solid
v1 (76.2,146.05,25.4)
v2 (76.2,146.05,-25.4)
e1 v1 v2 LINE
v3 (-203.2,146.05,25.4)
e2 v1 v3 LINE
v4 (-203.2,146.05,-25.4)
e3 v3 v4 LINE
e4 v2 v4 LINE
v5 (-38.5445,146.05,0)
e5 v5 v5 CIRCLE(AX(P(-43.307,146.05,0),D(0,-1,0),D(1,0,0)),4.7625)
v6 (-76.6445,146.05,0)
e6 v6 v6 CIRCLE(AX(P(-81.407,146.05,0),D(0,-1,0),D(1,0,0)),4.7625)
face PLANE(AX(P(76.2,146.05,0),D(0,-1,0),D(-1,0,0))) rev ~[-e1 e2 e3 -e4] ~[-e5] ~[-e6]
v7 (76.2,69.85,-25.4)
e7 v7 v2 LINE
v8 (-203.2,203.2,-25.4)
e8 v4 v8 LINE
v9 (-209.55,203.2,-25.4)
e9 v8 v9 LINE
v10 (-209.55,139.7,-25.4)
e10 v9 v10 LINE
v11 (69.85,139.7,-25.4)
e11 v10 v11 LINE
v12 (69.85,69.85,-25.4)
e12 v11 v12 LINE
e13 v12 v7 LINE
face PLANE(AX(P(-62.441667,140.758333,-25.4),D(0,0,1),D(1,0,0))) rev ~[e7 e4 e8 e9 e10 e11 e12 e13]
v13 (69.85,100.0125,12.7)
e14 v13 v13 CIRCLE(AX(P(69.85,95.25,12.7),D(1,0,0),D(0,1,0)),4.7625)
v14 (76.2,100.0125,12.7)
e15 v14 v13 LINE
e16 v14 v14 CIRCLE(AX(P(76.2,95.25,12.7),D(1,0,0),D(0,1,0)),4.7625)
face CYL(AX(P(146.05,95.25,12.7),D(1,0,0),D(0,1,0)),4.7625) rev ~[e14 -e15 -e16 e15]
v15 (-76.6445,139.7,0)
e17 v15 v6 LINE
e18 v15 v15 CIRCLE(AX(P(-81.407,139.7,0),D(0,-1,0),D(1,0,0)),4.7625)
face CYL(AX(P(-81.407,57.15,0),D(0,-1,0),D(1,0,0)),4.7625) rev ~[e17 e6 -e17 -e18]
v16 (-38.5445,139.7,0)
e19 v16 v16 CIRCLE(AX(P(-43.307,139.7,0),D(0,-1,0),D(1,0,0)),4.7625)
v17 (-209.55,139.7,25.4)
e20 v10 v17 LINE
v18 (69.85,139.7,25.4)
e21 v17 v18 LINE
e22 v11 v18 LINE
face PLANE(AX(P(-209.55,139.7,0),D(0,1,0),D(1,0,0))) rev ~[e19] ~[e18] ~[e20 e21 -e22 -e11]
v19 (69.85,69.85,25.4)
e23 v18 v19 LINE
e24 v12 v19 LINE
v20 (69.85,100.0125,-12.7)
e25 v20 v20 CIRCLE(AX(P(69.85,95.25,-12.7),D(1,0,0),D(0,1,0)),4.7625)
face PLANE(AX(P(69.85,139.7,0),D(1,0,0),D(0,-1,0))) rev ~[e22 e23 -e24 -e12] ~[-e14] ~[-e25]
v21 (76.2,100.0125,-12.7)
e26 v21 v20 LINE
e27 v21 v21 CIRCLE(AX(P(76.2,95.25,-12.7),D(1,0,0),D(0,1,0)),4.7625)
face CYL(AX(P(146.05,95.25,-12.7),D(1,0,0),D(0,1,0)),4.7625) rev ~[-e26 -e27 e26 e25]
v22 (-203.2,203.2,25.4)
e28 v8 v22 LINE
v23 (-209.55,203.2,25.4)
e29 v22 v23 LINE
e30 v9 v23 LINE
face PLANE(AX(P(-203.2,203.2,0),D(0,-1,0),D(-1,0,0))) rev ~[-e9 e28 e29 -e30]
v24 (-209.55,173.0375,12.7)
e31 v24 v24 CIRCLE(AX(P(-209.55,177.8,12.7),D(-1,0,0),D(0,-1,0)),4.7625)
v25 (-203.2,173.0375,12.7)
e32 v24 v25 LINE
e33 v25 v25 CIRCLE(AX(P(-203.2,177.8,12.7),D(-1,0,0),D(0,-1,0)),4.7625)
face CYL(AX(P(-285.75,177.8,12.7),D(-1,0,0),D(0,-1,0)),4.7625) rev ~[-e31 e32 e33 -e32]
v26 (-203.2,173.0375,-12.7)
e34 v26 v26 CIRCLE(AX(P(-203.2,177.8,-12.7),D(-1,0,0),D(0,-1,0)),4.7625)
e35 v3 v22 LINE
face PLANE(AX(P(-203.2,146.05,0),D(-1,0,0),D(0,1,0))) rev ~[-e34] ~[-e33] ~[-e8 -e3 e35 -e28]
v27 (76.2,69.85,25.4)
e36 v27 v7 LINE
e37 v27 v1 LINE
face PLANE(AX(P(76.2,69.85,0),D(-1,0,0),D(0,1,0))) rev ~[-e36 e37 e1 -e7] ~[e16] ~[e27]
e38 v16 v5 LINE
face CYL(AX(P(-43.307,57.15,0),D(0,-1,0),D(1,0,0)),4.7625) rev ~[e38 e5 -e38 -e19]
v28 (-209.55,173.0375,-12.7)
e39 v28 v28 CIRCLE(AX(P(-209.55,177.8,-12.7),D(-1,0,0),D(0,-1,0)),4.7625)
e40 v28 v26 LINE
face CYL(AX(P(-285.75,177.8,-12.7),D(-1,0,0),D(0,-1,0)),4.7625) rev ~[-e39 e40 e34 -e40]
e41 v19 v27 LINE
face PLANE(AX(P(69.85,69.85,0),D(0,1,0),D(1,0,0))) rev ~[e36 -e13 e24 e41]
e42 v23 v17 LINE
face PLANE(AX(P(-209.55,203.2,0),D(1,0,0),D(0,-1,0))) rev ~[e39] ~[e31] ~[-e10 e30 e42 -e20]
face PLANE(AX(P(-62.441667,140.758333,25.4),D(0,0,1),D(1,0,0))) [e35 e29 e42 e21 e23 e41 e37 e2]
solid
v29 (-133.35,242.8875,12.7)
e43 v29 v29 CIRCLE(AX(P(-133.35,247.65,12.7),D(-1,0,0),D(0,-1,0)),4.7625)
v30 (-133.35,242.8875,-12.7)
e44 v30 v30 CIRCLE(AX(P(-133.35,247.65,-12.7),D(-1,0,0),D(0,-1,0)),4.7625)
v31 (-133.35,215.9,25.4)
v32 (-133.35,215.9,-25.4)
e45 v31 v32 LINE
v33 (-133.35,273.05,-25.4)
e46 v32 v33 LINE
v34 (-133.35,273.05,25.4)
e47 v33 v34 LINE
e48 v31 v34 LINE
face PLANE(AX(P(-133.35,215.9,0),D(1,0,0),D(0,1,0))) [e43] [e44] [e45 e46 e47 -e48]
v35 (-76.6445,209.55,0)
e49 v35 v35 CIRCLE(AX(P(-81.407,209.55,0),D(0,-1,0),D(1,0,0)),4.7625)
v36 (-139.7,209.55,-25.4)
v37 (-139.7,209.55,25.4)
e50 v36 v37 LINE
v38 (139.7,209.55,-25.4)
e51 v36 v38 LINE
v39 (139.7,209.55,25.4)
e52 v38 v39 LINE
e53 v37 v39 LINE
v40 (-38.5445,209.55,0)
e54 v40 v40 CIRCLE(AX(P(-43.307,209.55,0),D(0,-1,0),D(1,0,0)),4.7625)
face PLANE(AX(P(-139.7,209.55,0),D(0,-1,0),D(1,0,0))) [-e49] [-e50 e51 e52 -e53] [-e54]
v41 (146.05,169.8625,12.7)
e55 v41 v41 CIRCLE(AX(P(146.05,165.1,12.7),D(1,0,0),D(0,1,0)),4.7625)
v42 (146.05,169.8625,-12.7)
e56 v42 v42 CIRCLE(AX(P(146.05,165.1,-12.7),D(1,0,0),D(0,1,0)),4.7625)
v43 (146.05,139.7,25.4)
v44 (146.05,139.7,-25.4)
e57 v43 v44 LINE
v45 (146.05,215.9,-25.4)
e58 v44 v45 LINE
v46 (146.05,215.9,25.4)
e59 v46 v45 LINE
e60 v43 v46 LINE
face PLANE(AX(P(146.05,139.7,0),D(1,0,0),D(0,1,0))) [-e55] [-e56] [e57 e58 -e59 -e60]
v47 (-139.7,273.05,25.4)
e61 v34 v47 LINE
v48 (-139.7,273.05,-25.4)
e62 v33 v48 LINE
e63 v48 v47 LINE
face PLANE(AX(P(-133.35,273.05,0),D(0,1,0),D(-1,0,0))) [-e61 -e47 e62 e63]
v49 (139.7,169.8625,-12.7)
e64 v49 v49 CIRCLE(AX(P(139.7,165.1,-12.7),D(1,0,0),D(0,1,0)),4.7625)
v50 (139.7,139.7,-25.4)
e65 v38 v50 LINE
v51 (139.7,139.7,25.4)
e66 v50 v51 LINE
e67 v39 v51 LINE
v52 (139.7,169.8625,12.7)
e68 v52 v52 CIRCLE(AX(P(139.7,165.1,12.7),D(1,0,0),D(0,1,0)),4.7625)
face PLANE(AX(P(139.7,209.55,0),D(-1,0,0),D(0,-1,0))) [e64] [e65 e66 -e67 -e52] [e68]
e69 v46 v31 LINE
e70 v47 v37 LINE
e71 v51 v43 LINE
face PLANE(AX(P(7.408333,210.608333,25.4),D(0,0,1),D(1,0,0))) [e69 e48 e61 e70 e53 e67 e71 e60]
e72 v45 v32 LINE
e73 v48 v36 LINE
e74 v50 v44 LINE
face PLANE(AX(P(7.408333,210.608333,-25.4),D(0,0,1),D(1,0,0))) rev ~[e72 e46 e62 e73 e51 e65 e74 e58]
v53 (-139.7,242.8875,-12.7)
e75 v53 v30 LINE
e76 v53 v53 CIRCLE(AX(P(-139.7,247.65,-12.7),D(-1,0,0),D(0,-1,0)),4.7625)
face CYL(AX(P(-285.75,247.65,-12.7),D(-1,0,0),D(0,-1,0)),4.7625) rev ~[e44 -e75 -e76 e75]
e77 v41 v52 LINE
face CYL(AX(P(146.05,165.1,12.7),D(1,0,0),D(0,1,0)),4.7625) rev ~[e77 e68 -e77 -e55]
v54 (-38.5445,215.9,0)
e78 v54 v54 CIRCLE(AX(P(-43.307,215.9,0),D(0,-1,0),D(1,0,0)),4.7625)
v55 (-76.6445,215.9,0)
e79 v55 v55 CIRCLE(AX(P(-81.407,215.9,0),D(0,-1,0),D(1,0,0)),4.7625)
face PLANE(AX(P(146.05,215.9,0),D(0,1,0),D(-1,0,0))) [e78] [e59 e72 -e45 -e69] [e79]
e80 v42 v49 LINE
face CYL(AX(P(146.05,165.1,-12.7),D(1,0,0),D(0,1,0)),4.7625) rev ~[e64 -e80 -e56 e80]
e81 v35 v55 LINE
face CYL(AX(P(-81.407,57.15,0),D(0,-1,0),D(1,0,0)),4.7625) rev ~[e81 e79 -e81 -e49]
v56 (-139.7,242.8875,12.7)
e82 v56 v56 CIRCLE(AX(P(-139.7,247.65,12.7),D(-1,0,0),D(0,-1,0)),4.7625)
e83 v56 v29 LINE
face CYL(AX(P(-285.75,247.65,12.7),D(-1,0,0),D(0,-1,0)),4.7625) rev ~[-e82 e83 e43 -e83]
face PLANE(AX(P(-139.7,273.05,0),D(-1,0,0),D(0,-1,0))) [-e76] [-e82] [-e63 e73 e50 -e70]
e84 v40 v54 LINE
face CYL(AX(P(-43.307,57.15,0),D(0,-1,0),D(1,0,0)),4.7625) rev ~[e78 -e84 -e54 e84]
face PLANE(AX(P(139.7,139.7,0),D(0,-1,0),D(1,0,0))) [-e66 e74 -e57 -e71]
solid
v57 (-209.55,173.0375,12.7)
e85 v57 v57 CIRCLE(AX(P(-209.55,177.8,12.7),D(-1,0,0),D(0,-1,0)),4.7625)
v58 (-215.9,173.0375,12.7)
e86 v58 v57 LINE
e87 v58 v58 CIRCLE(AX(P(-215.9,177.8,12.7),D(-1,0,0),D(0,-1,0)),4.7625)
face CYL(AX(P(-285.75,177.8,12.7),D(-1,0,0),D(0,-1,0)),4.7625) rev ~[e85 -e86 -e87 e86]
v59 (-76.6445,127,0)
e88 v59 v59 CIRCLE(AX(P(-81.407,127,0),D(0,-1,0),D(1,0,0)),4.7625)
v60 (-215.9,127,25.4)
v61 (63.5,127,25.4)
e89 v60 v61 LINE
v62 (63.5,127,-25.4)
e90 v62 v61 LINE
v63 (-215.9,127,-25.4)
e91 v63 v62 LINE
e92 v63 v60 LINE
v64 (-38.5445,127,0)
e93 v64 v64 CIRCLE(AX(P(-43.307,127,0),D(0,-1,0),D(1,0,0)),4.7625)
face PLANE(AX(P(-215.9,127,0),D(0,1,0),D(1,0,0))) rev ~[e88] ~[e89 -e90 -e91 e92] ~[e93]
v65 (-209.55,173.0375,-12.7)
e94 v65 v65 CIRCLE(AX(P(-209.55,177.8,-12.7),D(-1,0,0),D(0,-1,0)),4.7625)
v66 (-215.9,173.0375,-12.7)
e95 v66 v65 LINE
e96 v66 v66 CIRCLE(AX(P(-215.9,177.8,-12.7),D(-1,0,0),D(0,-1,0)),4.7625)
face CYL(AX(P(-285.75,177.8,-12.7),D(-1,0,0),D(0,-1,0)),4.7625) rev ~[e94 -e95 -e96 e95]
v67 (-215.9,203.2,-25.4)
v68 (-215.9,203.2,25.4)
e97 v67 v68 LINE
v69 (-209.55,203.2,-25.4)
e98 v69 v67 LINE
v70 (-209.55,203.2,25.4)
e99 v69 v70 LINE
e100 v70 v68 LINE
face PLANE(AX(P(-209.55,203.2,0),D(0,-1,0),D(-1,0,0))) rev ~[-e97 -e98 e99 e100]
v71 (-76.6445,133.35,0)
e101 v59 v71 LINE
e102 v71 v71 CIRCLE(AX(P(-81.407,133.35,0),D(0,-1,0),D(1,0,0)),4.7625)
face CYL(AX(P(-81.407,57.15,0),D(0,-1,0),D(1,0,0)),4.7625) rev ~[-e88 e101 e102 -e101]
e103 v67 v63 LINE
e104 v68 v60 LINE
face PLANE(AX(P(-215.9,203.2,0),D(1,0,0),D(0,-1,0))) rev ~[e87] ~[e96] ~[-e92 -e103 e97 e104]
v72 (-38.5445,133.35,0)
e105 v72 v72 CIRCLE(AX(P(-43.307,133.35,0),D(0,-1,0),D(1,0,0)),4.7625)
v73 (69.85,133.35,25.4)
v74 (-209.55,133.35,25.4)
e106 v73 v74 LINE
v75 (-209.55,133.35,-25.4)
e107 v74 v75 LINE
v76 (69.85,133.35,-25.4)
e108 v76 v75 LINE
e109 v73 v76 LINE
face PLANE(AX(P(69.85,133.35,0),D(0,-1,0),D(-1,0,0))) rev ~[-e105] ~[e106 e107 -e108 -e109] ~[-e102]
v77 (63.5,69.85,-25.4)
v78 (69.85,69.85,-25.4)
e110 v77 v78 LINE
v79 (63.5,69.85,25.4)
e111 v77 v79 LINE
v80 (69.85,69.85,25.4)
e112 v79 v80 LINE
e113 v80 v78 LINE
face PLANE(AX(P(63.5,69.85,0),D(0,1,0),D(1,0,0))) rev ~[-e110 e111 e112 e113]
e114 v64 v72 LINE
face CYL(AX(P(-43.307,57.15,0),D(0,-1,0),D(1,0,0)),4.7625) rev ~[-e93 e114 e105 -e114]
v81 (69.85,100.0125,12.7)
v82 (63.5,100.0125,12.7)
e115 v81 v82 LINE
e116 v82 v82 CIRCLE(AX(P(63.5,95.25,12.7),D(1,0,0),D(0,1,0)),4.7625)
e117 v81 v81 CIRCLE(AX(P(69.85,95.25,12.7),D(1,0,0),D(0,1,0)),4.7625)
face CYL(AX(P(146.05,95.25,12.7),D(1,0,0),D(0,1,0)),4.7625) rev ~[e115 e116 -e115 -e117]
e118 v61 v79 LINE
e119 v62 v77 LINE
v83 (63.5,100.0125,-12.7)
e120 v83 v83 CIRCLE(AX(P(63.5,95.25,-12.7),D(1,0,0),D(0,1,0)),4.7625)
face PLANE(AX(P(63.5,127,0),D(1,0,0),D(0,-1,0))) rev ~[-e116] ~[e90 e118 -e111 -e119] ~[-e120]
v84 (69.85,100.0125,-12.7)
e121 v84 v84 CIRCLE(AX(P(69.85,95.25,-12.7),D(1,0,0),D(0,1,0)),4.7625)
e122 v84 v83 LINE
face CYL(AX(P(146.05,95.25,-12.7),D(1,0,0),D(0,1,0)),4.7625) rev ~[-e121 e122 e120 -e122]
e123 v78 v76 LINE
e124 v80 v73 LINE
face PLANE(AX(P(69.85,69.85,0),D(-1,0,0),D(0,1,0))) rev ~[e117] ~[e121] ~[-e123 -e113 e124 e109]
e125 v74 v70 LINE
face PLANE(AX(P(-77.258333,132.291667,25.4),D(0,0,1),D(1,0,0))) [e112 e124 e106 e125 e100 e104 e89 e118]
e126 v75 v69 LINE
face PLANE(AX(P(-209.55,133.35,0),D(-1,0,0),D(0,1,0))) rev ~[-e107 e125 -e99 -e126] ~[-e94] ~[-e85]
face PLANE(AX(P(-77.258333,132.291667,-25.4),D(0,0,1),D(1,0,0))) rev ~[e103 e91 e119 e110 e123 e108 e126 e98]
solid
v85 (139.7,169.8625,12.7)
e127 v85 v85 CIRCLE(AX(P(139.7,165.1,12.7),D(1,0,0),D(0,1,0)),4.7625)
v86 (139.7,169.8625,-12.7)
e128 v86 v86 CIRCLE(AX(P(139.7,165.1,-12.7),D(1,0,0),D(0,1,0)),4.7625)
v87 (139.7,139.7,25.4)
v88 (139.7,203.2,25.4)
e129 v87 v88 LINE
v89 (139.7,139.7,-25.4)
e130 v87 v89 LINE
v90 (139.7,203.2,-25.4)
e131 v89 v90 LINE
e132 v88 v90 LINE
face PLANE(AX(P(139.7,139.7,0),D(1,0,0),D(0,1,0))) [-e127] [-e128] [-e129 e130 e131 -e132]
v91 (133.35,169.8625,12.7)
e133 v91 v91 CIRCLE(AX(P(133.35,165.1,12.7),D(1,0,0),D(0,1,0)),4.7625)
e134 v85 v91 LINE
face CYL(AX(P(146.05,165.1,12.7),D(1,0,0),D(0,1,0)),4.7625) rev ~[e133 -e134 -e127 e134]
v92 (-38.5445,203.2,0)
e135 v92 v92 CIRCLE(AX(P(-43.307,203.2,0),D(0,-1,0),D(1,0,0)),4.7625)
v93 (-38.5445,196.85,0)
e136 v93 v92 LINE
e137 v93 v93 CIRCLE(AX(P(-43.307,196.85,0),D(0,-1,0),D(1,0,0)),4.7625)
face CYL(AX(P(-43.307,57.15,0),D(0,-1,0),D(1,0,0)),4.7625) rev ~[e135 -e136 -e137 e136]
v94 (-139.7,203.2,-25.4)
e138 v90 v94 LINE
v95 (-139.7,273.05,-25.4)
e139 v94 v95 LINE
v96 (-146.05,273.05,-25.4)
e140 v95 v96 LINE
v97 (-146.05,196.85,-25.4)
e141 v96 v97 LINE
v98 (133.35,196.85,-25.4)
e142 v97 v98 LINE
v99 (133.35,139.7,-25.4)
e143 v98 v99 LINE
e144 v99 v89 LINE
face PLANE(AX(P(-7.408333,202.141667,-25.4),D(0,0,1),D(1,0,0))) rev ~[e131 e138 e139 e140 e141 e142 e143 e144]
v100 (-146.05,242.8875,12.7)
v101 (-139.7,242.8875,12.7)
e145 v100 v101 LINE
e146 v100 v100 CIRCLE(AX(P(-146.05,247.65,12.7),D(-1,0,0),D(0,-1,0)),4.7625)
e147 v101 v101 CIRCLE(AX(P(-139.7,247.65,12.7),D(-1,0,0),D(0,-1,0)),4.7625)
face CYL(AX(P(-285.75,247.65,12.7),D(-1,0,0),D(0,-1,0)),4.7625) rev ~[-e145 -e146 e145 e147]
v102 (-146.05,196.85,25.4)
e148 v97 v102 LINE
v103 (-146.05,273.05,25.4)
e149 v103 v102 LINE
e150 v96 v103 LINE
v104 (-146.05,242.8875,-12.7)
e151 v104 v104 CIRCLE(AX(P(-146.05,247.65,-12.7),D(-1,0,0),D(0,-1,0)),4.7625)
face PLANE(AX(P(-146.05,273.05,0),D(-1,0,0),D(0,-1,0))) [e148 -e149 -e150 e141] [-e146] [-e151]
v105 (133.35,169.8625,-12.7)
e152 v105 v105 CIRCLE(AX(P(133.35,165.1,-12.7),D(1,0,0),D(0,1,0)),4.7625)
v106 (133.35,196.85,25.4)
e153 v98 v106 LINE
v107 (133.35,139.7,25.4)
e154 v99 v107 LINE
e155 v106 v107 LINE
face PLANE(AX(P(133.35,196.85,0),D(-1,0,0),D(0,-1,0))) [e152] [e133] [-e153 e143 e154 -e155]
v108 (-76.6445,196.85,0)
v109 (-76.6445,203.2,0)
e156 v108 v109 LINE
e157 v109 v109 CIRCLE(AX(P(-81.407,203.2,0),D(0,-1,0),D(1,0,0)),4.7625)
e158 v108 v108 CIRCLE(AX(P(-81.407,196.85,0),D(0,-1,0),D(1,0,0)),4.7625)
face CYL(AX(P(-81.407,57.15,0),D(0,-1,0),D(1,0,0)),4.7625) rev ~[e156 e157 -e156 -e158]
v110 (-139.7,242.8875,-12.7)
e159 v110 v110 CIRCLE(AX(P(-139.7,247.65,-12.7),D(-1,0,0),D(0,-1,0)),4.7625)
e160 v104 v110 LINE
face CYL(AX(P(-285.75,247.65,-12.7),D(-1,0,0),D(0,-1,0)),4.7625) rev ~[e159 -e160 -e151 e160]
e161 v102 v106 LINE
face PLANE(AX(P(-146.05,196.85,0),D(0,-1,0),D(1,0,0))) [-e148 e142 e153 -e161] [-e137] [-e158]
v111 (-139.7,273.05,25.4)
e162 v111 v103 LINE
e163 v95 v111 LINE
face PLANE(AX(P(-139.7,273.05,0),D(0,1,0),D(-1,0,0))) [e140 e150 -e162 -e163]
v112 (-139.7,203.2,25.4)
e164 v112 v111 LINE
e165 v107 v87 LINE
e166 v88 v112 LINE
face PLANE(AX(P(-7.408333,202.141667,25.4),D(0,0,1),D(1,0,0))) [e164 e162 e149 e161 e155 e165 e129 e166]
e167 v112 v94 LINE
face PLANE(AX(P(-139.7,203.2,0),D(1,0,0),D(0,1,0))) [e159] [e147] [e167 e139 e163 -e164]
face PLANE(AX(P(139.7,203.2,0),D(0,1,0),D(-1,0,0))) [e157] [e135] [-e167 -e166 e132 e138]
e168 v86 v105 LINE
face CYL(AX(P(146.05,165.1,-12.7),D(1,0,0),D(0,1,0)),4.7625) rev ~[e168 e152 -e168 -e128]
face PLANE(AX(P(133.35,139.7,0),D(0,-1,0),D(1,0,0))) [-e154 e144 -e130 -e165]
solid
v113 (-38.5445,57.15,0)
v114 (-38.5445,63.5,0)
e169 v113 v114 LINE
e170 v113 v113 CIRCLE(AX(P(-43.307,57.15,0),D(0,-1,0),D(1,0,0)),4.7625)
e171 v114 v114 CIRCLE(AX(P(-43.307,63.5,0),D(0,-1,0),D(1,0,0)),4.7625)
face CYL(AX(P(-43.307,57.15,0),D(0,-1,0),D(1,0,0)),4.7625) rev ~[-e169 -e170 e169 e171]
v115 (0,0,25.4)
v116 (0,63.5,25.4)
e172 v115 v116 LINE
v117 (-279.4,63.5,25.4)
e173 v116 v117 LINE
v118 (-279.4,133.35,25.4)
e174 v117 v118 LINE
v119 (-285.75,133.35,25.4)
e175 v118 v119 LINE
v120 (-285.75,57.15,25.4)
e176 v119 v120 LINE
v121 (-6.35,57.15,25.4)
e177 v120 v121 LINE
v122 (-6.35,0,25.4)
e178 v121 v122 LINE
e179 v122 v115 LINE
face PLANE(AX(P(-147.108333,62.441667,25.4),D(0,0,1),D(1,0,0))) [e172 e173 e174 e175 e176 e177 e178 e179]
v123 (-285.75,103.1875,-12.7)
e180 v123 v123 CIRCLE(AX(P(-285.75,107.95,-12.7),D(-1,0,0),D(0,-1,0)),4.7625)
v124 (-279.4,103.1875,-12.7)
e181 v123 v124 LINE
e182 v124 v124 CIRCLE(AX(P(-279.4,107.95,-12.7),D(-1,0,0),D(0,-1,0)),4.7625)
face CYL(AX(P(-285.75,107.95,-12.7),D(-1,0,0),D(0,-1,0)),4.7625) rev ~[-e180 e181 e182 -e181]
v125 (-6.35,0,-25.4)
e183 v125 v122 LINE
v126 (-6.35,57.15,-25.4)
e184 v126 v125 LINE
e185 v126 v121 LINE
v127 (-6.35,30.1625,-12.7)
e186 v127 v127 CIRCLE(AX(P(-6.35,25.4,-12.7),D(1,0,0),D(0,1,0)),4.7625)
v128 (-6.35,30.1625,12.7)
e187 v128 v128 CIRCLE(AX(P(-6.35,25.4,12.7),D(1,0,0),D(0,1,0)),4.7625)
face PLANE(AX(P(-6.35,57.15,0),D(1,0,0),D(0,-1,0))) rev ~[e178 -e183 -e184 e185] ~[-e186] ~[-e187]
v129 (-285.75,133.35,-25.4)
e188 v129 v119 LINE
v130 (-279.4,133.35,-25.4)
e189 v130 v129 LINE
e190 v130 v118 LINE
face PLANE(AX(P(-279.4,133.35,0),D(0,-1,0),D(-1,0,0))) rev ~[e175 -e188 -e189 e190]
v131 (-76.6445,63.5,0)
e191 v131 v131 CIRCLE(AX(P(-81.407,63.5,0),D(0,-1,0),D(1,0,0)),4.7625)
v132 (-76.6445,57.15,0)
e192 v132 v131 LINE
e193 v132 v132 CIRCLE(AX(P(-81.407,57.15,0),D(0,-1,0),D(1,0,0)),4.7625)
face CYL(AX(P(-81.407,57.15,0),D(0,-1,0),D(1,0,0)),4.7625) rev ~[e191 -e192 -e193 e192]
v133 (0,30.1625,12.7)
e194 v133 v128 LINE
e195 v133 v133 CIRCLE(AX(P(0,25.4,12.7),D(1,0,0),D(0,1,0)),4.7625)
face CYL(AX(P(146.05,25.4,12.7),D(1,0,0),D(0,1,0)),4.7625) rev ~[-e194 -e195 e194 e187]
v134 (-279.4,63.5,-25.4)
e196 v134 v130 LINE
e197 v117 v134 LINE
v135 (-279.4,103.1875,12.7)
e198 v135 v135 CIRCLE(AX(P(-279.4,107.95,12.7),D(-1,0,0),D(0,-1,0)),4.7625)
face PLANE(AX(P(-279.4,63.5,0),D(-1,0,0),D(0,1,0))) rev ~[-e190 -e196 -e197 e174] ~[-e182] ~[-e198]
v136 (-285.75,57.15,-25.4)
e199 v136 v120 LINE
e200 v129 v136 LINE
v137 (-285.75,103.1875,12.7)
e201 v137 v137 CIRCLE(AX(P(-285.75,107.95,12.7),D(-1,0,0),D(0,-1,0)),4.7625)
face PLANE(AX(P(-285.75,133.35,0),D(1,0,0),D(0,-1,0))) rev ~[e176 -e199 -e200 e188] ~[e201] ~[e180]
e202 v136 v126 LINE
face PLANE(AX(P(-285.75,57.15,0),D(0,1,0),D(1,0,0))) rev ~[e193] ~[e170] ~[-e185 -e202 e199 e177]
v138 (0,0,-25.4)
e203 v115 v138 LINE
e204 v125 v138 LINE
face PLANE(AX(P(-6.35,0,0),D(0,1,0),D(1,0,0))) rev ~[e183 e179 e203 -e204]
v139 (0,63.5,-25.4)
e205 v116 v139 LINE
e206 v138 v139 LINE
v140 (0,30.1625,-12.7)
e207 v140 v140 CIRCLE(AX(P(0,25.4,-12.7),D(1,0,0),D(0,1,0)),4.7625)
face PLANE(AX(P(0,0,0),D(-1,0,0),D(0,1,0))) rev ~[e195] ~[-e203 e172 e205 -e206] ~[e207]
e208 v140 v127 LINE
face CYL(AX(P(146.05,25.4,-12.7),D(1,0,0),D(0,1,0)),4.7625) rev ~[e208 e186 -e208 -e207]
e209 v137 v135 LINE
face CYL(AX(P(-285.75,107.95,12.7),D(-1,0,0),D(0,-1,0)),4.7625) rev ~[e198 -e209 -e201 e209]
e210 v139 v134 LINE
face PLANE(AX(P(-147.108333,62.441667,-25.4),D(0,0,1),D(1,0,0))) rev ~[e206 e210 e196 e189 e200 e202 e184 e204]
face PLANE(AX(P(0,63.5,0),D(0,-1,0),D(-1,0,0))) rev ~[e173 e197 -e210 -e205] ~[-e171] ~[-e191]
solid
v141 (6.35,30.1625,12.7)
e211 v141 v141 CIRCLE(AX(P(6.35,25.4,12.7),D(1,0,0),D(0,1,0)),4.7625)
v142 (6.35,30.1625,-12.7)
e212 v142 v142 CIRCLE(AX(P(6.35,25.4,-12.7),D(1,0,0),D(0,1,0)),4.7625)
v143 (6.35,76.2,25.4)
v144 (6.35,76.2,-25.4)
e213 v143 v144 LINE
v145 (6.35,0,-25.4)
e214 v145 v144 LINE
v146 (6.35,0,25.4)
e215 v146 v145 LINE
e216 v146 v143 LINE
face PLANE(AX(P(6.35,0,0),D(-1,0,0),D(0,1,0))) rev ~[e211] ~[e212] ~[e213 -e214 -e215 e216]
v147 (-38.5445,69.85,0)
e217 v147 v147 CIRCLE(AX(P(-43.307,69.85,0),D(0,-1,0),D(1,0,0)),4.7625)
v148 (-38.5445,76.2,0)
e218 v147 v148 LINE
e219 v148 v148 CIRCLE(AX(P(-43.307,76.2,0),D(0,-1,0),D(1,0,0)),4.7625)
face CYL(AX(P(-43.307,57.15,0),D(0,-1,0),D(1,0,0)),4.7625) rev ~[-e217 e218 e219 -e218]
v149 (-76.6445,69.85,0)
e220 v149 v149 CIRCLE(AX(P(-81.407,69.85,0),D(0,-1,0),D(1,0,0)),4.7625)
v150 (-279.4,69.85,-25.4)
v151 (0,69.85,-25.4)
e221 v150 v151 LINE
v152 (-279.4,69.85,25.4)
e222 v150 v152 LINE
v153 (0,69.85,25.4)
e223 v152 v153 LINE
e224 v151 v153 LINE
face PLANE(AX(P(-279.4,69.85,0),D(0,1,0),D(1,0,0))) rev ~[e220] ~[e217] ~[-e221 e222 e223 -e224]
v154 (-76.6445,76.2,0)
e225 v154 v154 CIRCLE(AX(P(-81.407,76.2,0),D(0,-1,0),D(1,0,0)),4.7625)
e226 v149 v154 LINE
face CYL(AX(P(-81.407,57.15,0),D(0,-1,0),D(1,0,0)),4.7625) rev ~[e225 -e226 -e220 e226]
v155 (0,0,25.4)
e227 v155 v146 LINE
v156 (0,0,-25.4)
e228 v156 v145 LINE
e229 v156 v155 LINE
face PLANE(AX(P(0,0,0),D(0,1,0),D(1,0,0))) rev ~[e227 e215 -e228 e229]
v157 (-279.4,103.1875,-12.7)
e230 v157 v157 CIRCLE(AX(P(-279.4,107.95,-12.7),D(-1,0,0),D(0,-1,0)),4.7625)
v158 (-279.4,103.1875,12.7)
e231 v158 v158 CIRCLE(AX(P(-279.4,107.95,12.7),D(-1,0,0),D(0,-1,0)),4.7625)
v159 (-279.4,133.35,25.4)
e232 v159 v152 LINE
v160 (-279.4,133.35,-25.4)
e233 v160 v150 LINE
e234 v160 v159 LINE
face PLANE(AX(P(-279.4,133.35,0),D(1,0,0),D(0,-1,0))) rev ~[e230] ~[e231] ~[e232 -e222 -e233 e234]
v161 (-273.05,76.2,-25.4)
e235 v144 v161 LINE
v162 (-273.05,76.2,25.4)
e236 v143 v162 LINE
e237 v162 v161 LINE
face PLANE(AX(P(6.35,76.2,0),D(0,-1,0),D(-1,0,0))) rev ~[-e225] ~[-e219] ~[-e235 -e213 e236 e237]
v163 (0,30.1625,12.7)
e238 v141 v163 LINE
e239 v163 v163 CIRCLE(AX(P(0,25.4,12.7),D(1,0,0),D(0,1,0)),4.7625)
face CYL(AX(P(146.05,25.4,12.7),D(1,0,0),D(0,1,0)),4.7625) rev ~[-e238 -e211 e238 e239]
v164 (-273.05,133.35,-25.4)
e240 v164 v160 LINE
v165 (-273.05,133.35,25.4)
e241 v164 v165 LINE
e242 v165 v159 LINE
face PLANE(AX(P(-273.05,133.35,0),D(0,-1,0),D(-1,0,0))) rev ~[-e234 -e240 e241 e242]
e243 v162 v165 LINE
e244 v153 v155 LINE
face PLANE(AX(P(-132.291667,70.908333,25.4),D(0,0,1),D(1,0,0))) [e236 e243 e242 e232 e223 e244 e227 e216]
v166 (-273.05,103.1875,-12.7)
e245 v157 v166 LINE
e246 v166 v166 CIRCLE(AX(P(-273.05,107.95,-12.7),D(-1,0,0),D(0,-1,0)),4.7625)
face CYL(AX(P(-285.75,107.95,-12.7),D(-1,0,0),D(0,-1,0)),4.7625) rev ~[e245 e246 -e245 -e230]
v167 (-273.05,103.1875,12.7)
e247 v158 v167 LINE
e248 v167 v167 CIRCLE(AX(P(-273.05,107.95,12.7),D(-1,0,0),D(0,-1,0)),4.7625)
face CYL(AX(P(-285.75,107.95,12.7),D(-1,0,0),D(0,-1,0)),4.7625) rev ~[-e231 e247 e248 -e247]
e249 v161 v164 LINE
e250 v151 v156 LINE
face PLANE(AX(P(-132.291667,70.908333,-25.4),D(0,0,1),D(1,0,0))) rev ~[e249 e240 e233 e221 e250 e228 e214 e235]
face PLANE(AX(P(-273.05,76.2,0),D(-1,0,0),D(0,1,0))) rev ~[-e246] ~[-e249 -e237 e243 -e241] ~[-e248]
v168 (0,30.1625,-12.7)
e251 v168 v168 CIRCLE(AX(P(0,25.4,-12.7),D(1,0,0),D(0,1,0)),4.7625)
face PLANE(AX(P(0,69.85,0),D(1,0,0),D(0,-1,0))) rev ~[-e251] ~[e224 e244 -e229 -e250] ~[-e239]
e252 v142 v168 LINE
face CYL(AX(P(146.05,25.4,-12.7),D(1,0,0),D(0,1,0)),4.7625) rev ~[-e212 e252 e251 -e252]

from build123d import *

# Parameters (mm, degrees)
F1_DEPTH = 25.4
F3_DEPTH = 25.4
F4_R     = 4.7625
F5_DEPTH = 215.901
F6_R     = 4.7625
F7_DEPTH = 152.4
F8_R     = 4.7625
F9_DEPTH = 152.4


with BuildPart() as f1:
    # F0 (on Top) → F1 (new body, symmetric)
    with BuildSketch(Plane.XY):
        Polygon((-279.4, 63.5), (-279.4, 133.35), (-285.75, 133.35), (-285.75, 57.15), (-6.35, 57.15), (-6.35, 0), (0, 0), (0, 63.5), align=None)
        Polygon((-209.55, 133.35), (-209.55, 203.2), (-215.9, 203.2), (-215.9, 127), (63.5, 127), (63.5, 69.85), (69.85, 69.85), (69.85, 133.35), align=None)
        Polygon((-139.7, 203.2), (-139.7, 273.05), (-146.05, 273.05), (-146.05, 196.85), (133.35, 196.85), (133.35, 139.7), (139.7, 139.7), (139.7, 203.2), align=None)
    extrude(amount=F1_DEPTH, both=True)


with BuildPart() as f3:
    # F2 (on Top) → F3 (new body, symmetric)
    with BuildSketch(Plane.XY):
        Polygon((-273.05, 76.2), (-273.05, 133.35), (-279.4, 133.35), (-279.4, 69.85), (0, 69.85), (0, 0), (6.35, 0), (6.35, 76.2), align=None)
        Polygon((-203.2, 146.05), (-203.2, 203.2), (-209.55, 203.2), (-209.55, 139.7), (69.85, 139.7), (69.85, 69.85), (76.2, 69.85), (76.2, 146.05), align=None)
        Polygon((-133.35, 215.9), (-133.35, 273.05), (-139.7, 273.05), (-139.7, 209.55), (139.7, 209.55), (139.7, 139.7), (146.05, 139.7), (146.05, 215.9), align=None)
    extrude(amount=F3_DEPTH, both=True)


with BuildPart() as f5_tool:
    # F4 (on face) → F5 (new body, through all)
    with BuildSketch(Plane.XZ.offset(-57.15)):
        with Locations((-43.307, 0)):
            Circle(F4_R)
        with Locations((-81.407, 0)):
            Circle(F4_R)
    extrude(amount=-F5_DEPTH)


with BuildPart() as f1_1:
    add(f1.part)

    # F5: cut by f5_tool
    add(f5_tool.part, mode=Mode.SUBTRACT)


with BuildPart() as f3_1:
    add(f3.part)

    # F5: cut by f5_tool
    add(f5_tool.part, mode=Mode.SUBTRACT)


with BuildPart() as f7_tool:
    # F6 (on face) → F7 (new body, through all)
    with BuildSketch(Plane(origin=(-285.75, 0, 0), x_dir=(0, -1, 0), z_dir=(-1, 0, 0))):
        with Locations((-107.95, 12.7)):
            Circle(F6_R)
        with Locations((-107.95, -12.7)):
            Circle(F6_R)
        with Locations((-177.8, 12.7)):
            Circle(F6_R)
        with Locations((-177.8, -12.7)):
            Circle(F6_R)
        with Locations((-247.65, 12.7)):
            Circle(F6_R)
        with Locations((-247.65, -12.7)):
            Circle(F6_R)
    extrude(amount=-F7_DEPTH)


with BuildPart() as f1_2:
    add(f1_1.part)

    # F7: cut by f7_tool
    add(f7_tool.part, mode=Mode.SUBTRACT)


with BuildPart() as f3_2:
    add(f3_1.part)

    # F7: cut by f7_tool
    add(f7_tool.part, mode=Mode.SUBTRACT)


with BuildPart() as f9_tool:
    # F8 (on face) → F9 (new body, through all)
    with BuildSketch(Plane.YZ.offset(146.05)):
        with Locations((165.1, 12.7)):
            Circle(F8_R)
        with Locations((165.1, -12.7)):
            Circle(F8_R)
        with Locations((95.25, 12.7)):
            Circle(F8_R)
        with Locations((95.25, -12.7)):
            Circle(F8_R)
        with Locations((25.4, 12.7)):
            Circle(F8_R)
        with Locations((25.4, -12.7)):
            Circle(F8_R)
    extrude(amount=-F9_DEPTH)


with BuildPart() as f1_3:
    add(f1_2.part)

    # F9: cut by f9_tool
    add(f9_tool.part, mode=Mode.SUBTRACT)


with BuildPart() as f3_3:
    add(f3_2.part)

    # F9: cut by f9_tool
    add(f9_tool.part, mode=Mode.SUBTRACT)


solid = Compound([f1_3.part, f3_3.part])
